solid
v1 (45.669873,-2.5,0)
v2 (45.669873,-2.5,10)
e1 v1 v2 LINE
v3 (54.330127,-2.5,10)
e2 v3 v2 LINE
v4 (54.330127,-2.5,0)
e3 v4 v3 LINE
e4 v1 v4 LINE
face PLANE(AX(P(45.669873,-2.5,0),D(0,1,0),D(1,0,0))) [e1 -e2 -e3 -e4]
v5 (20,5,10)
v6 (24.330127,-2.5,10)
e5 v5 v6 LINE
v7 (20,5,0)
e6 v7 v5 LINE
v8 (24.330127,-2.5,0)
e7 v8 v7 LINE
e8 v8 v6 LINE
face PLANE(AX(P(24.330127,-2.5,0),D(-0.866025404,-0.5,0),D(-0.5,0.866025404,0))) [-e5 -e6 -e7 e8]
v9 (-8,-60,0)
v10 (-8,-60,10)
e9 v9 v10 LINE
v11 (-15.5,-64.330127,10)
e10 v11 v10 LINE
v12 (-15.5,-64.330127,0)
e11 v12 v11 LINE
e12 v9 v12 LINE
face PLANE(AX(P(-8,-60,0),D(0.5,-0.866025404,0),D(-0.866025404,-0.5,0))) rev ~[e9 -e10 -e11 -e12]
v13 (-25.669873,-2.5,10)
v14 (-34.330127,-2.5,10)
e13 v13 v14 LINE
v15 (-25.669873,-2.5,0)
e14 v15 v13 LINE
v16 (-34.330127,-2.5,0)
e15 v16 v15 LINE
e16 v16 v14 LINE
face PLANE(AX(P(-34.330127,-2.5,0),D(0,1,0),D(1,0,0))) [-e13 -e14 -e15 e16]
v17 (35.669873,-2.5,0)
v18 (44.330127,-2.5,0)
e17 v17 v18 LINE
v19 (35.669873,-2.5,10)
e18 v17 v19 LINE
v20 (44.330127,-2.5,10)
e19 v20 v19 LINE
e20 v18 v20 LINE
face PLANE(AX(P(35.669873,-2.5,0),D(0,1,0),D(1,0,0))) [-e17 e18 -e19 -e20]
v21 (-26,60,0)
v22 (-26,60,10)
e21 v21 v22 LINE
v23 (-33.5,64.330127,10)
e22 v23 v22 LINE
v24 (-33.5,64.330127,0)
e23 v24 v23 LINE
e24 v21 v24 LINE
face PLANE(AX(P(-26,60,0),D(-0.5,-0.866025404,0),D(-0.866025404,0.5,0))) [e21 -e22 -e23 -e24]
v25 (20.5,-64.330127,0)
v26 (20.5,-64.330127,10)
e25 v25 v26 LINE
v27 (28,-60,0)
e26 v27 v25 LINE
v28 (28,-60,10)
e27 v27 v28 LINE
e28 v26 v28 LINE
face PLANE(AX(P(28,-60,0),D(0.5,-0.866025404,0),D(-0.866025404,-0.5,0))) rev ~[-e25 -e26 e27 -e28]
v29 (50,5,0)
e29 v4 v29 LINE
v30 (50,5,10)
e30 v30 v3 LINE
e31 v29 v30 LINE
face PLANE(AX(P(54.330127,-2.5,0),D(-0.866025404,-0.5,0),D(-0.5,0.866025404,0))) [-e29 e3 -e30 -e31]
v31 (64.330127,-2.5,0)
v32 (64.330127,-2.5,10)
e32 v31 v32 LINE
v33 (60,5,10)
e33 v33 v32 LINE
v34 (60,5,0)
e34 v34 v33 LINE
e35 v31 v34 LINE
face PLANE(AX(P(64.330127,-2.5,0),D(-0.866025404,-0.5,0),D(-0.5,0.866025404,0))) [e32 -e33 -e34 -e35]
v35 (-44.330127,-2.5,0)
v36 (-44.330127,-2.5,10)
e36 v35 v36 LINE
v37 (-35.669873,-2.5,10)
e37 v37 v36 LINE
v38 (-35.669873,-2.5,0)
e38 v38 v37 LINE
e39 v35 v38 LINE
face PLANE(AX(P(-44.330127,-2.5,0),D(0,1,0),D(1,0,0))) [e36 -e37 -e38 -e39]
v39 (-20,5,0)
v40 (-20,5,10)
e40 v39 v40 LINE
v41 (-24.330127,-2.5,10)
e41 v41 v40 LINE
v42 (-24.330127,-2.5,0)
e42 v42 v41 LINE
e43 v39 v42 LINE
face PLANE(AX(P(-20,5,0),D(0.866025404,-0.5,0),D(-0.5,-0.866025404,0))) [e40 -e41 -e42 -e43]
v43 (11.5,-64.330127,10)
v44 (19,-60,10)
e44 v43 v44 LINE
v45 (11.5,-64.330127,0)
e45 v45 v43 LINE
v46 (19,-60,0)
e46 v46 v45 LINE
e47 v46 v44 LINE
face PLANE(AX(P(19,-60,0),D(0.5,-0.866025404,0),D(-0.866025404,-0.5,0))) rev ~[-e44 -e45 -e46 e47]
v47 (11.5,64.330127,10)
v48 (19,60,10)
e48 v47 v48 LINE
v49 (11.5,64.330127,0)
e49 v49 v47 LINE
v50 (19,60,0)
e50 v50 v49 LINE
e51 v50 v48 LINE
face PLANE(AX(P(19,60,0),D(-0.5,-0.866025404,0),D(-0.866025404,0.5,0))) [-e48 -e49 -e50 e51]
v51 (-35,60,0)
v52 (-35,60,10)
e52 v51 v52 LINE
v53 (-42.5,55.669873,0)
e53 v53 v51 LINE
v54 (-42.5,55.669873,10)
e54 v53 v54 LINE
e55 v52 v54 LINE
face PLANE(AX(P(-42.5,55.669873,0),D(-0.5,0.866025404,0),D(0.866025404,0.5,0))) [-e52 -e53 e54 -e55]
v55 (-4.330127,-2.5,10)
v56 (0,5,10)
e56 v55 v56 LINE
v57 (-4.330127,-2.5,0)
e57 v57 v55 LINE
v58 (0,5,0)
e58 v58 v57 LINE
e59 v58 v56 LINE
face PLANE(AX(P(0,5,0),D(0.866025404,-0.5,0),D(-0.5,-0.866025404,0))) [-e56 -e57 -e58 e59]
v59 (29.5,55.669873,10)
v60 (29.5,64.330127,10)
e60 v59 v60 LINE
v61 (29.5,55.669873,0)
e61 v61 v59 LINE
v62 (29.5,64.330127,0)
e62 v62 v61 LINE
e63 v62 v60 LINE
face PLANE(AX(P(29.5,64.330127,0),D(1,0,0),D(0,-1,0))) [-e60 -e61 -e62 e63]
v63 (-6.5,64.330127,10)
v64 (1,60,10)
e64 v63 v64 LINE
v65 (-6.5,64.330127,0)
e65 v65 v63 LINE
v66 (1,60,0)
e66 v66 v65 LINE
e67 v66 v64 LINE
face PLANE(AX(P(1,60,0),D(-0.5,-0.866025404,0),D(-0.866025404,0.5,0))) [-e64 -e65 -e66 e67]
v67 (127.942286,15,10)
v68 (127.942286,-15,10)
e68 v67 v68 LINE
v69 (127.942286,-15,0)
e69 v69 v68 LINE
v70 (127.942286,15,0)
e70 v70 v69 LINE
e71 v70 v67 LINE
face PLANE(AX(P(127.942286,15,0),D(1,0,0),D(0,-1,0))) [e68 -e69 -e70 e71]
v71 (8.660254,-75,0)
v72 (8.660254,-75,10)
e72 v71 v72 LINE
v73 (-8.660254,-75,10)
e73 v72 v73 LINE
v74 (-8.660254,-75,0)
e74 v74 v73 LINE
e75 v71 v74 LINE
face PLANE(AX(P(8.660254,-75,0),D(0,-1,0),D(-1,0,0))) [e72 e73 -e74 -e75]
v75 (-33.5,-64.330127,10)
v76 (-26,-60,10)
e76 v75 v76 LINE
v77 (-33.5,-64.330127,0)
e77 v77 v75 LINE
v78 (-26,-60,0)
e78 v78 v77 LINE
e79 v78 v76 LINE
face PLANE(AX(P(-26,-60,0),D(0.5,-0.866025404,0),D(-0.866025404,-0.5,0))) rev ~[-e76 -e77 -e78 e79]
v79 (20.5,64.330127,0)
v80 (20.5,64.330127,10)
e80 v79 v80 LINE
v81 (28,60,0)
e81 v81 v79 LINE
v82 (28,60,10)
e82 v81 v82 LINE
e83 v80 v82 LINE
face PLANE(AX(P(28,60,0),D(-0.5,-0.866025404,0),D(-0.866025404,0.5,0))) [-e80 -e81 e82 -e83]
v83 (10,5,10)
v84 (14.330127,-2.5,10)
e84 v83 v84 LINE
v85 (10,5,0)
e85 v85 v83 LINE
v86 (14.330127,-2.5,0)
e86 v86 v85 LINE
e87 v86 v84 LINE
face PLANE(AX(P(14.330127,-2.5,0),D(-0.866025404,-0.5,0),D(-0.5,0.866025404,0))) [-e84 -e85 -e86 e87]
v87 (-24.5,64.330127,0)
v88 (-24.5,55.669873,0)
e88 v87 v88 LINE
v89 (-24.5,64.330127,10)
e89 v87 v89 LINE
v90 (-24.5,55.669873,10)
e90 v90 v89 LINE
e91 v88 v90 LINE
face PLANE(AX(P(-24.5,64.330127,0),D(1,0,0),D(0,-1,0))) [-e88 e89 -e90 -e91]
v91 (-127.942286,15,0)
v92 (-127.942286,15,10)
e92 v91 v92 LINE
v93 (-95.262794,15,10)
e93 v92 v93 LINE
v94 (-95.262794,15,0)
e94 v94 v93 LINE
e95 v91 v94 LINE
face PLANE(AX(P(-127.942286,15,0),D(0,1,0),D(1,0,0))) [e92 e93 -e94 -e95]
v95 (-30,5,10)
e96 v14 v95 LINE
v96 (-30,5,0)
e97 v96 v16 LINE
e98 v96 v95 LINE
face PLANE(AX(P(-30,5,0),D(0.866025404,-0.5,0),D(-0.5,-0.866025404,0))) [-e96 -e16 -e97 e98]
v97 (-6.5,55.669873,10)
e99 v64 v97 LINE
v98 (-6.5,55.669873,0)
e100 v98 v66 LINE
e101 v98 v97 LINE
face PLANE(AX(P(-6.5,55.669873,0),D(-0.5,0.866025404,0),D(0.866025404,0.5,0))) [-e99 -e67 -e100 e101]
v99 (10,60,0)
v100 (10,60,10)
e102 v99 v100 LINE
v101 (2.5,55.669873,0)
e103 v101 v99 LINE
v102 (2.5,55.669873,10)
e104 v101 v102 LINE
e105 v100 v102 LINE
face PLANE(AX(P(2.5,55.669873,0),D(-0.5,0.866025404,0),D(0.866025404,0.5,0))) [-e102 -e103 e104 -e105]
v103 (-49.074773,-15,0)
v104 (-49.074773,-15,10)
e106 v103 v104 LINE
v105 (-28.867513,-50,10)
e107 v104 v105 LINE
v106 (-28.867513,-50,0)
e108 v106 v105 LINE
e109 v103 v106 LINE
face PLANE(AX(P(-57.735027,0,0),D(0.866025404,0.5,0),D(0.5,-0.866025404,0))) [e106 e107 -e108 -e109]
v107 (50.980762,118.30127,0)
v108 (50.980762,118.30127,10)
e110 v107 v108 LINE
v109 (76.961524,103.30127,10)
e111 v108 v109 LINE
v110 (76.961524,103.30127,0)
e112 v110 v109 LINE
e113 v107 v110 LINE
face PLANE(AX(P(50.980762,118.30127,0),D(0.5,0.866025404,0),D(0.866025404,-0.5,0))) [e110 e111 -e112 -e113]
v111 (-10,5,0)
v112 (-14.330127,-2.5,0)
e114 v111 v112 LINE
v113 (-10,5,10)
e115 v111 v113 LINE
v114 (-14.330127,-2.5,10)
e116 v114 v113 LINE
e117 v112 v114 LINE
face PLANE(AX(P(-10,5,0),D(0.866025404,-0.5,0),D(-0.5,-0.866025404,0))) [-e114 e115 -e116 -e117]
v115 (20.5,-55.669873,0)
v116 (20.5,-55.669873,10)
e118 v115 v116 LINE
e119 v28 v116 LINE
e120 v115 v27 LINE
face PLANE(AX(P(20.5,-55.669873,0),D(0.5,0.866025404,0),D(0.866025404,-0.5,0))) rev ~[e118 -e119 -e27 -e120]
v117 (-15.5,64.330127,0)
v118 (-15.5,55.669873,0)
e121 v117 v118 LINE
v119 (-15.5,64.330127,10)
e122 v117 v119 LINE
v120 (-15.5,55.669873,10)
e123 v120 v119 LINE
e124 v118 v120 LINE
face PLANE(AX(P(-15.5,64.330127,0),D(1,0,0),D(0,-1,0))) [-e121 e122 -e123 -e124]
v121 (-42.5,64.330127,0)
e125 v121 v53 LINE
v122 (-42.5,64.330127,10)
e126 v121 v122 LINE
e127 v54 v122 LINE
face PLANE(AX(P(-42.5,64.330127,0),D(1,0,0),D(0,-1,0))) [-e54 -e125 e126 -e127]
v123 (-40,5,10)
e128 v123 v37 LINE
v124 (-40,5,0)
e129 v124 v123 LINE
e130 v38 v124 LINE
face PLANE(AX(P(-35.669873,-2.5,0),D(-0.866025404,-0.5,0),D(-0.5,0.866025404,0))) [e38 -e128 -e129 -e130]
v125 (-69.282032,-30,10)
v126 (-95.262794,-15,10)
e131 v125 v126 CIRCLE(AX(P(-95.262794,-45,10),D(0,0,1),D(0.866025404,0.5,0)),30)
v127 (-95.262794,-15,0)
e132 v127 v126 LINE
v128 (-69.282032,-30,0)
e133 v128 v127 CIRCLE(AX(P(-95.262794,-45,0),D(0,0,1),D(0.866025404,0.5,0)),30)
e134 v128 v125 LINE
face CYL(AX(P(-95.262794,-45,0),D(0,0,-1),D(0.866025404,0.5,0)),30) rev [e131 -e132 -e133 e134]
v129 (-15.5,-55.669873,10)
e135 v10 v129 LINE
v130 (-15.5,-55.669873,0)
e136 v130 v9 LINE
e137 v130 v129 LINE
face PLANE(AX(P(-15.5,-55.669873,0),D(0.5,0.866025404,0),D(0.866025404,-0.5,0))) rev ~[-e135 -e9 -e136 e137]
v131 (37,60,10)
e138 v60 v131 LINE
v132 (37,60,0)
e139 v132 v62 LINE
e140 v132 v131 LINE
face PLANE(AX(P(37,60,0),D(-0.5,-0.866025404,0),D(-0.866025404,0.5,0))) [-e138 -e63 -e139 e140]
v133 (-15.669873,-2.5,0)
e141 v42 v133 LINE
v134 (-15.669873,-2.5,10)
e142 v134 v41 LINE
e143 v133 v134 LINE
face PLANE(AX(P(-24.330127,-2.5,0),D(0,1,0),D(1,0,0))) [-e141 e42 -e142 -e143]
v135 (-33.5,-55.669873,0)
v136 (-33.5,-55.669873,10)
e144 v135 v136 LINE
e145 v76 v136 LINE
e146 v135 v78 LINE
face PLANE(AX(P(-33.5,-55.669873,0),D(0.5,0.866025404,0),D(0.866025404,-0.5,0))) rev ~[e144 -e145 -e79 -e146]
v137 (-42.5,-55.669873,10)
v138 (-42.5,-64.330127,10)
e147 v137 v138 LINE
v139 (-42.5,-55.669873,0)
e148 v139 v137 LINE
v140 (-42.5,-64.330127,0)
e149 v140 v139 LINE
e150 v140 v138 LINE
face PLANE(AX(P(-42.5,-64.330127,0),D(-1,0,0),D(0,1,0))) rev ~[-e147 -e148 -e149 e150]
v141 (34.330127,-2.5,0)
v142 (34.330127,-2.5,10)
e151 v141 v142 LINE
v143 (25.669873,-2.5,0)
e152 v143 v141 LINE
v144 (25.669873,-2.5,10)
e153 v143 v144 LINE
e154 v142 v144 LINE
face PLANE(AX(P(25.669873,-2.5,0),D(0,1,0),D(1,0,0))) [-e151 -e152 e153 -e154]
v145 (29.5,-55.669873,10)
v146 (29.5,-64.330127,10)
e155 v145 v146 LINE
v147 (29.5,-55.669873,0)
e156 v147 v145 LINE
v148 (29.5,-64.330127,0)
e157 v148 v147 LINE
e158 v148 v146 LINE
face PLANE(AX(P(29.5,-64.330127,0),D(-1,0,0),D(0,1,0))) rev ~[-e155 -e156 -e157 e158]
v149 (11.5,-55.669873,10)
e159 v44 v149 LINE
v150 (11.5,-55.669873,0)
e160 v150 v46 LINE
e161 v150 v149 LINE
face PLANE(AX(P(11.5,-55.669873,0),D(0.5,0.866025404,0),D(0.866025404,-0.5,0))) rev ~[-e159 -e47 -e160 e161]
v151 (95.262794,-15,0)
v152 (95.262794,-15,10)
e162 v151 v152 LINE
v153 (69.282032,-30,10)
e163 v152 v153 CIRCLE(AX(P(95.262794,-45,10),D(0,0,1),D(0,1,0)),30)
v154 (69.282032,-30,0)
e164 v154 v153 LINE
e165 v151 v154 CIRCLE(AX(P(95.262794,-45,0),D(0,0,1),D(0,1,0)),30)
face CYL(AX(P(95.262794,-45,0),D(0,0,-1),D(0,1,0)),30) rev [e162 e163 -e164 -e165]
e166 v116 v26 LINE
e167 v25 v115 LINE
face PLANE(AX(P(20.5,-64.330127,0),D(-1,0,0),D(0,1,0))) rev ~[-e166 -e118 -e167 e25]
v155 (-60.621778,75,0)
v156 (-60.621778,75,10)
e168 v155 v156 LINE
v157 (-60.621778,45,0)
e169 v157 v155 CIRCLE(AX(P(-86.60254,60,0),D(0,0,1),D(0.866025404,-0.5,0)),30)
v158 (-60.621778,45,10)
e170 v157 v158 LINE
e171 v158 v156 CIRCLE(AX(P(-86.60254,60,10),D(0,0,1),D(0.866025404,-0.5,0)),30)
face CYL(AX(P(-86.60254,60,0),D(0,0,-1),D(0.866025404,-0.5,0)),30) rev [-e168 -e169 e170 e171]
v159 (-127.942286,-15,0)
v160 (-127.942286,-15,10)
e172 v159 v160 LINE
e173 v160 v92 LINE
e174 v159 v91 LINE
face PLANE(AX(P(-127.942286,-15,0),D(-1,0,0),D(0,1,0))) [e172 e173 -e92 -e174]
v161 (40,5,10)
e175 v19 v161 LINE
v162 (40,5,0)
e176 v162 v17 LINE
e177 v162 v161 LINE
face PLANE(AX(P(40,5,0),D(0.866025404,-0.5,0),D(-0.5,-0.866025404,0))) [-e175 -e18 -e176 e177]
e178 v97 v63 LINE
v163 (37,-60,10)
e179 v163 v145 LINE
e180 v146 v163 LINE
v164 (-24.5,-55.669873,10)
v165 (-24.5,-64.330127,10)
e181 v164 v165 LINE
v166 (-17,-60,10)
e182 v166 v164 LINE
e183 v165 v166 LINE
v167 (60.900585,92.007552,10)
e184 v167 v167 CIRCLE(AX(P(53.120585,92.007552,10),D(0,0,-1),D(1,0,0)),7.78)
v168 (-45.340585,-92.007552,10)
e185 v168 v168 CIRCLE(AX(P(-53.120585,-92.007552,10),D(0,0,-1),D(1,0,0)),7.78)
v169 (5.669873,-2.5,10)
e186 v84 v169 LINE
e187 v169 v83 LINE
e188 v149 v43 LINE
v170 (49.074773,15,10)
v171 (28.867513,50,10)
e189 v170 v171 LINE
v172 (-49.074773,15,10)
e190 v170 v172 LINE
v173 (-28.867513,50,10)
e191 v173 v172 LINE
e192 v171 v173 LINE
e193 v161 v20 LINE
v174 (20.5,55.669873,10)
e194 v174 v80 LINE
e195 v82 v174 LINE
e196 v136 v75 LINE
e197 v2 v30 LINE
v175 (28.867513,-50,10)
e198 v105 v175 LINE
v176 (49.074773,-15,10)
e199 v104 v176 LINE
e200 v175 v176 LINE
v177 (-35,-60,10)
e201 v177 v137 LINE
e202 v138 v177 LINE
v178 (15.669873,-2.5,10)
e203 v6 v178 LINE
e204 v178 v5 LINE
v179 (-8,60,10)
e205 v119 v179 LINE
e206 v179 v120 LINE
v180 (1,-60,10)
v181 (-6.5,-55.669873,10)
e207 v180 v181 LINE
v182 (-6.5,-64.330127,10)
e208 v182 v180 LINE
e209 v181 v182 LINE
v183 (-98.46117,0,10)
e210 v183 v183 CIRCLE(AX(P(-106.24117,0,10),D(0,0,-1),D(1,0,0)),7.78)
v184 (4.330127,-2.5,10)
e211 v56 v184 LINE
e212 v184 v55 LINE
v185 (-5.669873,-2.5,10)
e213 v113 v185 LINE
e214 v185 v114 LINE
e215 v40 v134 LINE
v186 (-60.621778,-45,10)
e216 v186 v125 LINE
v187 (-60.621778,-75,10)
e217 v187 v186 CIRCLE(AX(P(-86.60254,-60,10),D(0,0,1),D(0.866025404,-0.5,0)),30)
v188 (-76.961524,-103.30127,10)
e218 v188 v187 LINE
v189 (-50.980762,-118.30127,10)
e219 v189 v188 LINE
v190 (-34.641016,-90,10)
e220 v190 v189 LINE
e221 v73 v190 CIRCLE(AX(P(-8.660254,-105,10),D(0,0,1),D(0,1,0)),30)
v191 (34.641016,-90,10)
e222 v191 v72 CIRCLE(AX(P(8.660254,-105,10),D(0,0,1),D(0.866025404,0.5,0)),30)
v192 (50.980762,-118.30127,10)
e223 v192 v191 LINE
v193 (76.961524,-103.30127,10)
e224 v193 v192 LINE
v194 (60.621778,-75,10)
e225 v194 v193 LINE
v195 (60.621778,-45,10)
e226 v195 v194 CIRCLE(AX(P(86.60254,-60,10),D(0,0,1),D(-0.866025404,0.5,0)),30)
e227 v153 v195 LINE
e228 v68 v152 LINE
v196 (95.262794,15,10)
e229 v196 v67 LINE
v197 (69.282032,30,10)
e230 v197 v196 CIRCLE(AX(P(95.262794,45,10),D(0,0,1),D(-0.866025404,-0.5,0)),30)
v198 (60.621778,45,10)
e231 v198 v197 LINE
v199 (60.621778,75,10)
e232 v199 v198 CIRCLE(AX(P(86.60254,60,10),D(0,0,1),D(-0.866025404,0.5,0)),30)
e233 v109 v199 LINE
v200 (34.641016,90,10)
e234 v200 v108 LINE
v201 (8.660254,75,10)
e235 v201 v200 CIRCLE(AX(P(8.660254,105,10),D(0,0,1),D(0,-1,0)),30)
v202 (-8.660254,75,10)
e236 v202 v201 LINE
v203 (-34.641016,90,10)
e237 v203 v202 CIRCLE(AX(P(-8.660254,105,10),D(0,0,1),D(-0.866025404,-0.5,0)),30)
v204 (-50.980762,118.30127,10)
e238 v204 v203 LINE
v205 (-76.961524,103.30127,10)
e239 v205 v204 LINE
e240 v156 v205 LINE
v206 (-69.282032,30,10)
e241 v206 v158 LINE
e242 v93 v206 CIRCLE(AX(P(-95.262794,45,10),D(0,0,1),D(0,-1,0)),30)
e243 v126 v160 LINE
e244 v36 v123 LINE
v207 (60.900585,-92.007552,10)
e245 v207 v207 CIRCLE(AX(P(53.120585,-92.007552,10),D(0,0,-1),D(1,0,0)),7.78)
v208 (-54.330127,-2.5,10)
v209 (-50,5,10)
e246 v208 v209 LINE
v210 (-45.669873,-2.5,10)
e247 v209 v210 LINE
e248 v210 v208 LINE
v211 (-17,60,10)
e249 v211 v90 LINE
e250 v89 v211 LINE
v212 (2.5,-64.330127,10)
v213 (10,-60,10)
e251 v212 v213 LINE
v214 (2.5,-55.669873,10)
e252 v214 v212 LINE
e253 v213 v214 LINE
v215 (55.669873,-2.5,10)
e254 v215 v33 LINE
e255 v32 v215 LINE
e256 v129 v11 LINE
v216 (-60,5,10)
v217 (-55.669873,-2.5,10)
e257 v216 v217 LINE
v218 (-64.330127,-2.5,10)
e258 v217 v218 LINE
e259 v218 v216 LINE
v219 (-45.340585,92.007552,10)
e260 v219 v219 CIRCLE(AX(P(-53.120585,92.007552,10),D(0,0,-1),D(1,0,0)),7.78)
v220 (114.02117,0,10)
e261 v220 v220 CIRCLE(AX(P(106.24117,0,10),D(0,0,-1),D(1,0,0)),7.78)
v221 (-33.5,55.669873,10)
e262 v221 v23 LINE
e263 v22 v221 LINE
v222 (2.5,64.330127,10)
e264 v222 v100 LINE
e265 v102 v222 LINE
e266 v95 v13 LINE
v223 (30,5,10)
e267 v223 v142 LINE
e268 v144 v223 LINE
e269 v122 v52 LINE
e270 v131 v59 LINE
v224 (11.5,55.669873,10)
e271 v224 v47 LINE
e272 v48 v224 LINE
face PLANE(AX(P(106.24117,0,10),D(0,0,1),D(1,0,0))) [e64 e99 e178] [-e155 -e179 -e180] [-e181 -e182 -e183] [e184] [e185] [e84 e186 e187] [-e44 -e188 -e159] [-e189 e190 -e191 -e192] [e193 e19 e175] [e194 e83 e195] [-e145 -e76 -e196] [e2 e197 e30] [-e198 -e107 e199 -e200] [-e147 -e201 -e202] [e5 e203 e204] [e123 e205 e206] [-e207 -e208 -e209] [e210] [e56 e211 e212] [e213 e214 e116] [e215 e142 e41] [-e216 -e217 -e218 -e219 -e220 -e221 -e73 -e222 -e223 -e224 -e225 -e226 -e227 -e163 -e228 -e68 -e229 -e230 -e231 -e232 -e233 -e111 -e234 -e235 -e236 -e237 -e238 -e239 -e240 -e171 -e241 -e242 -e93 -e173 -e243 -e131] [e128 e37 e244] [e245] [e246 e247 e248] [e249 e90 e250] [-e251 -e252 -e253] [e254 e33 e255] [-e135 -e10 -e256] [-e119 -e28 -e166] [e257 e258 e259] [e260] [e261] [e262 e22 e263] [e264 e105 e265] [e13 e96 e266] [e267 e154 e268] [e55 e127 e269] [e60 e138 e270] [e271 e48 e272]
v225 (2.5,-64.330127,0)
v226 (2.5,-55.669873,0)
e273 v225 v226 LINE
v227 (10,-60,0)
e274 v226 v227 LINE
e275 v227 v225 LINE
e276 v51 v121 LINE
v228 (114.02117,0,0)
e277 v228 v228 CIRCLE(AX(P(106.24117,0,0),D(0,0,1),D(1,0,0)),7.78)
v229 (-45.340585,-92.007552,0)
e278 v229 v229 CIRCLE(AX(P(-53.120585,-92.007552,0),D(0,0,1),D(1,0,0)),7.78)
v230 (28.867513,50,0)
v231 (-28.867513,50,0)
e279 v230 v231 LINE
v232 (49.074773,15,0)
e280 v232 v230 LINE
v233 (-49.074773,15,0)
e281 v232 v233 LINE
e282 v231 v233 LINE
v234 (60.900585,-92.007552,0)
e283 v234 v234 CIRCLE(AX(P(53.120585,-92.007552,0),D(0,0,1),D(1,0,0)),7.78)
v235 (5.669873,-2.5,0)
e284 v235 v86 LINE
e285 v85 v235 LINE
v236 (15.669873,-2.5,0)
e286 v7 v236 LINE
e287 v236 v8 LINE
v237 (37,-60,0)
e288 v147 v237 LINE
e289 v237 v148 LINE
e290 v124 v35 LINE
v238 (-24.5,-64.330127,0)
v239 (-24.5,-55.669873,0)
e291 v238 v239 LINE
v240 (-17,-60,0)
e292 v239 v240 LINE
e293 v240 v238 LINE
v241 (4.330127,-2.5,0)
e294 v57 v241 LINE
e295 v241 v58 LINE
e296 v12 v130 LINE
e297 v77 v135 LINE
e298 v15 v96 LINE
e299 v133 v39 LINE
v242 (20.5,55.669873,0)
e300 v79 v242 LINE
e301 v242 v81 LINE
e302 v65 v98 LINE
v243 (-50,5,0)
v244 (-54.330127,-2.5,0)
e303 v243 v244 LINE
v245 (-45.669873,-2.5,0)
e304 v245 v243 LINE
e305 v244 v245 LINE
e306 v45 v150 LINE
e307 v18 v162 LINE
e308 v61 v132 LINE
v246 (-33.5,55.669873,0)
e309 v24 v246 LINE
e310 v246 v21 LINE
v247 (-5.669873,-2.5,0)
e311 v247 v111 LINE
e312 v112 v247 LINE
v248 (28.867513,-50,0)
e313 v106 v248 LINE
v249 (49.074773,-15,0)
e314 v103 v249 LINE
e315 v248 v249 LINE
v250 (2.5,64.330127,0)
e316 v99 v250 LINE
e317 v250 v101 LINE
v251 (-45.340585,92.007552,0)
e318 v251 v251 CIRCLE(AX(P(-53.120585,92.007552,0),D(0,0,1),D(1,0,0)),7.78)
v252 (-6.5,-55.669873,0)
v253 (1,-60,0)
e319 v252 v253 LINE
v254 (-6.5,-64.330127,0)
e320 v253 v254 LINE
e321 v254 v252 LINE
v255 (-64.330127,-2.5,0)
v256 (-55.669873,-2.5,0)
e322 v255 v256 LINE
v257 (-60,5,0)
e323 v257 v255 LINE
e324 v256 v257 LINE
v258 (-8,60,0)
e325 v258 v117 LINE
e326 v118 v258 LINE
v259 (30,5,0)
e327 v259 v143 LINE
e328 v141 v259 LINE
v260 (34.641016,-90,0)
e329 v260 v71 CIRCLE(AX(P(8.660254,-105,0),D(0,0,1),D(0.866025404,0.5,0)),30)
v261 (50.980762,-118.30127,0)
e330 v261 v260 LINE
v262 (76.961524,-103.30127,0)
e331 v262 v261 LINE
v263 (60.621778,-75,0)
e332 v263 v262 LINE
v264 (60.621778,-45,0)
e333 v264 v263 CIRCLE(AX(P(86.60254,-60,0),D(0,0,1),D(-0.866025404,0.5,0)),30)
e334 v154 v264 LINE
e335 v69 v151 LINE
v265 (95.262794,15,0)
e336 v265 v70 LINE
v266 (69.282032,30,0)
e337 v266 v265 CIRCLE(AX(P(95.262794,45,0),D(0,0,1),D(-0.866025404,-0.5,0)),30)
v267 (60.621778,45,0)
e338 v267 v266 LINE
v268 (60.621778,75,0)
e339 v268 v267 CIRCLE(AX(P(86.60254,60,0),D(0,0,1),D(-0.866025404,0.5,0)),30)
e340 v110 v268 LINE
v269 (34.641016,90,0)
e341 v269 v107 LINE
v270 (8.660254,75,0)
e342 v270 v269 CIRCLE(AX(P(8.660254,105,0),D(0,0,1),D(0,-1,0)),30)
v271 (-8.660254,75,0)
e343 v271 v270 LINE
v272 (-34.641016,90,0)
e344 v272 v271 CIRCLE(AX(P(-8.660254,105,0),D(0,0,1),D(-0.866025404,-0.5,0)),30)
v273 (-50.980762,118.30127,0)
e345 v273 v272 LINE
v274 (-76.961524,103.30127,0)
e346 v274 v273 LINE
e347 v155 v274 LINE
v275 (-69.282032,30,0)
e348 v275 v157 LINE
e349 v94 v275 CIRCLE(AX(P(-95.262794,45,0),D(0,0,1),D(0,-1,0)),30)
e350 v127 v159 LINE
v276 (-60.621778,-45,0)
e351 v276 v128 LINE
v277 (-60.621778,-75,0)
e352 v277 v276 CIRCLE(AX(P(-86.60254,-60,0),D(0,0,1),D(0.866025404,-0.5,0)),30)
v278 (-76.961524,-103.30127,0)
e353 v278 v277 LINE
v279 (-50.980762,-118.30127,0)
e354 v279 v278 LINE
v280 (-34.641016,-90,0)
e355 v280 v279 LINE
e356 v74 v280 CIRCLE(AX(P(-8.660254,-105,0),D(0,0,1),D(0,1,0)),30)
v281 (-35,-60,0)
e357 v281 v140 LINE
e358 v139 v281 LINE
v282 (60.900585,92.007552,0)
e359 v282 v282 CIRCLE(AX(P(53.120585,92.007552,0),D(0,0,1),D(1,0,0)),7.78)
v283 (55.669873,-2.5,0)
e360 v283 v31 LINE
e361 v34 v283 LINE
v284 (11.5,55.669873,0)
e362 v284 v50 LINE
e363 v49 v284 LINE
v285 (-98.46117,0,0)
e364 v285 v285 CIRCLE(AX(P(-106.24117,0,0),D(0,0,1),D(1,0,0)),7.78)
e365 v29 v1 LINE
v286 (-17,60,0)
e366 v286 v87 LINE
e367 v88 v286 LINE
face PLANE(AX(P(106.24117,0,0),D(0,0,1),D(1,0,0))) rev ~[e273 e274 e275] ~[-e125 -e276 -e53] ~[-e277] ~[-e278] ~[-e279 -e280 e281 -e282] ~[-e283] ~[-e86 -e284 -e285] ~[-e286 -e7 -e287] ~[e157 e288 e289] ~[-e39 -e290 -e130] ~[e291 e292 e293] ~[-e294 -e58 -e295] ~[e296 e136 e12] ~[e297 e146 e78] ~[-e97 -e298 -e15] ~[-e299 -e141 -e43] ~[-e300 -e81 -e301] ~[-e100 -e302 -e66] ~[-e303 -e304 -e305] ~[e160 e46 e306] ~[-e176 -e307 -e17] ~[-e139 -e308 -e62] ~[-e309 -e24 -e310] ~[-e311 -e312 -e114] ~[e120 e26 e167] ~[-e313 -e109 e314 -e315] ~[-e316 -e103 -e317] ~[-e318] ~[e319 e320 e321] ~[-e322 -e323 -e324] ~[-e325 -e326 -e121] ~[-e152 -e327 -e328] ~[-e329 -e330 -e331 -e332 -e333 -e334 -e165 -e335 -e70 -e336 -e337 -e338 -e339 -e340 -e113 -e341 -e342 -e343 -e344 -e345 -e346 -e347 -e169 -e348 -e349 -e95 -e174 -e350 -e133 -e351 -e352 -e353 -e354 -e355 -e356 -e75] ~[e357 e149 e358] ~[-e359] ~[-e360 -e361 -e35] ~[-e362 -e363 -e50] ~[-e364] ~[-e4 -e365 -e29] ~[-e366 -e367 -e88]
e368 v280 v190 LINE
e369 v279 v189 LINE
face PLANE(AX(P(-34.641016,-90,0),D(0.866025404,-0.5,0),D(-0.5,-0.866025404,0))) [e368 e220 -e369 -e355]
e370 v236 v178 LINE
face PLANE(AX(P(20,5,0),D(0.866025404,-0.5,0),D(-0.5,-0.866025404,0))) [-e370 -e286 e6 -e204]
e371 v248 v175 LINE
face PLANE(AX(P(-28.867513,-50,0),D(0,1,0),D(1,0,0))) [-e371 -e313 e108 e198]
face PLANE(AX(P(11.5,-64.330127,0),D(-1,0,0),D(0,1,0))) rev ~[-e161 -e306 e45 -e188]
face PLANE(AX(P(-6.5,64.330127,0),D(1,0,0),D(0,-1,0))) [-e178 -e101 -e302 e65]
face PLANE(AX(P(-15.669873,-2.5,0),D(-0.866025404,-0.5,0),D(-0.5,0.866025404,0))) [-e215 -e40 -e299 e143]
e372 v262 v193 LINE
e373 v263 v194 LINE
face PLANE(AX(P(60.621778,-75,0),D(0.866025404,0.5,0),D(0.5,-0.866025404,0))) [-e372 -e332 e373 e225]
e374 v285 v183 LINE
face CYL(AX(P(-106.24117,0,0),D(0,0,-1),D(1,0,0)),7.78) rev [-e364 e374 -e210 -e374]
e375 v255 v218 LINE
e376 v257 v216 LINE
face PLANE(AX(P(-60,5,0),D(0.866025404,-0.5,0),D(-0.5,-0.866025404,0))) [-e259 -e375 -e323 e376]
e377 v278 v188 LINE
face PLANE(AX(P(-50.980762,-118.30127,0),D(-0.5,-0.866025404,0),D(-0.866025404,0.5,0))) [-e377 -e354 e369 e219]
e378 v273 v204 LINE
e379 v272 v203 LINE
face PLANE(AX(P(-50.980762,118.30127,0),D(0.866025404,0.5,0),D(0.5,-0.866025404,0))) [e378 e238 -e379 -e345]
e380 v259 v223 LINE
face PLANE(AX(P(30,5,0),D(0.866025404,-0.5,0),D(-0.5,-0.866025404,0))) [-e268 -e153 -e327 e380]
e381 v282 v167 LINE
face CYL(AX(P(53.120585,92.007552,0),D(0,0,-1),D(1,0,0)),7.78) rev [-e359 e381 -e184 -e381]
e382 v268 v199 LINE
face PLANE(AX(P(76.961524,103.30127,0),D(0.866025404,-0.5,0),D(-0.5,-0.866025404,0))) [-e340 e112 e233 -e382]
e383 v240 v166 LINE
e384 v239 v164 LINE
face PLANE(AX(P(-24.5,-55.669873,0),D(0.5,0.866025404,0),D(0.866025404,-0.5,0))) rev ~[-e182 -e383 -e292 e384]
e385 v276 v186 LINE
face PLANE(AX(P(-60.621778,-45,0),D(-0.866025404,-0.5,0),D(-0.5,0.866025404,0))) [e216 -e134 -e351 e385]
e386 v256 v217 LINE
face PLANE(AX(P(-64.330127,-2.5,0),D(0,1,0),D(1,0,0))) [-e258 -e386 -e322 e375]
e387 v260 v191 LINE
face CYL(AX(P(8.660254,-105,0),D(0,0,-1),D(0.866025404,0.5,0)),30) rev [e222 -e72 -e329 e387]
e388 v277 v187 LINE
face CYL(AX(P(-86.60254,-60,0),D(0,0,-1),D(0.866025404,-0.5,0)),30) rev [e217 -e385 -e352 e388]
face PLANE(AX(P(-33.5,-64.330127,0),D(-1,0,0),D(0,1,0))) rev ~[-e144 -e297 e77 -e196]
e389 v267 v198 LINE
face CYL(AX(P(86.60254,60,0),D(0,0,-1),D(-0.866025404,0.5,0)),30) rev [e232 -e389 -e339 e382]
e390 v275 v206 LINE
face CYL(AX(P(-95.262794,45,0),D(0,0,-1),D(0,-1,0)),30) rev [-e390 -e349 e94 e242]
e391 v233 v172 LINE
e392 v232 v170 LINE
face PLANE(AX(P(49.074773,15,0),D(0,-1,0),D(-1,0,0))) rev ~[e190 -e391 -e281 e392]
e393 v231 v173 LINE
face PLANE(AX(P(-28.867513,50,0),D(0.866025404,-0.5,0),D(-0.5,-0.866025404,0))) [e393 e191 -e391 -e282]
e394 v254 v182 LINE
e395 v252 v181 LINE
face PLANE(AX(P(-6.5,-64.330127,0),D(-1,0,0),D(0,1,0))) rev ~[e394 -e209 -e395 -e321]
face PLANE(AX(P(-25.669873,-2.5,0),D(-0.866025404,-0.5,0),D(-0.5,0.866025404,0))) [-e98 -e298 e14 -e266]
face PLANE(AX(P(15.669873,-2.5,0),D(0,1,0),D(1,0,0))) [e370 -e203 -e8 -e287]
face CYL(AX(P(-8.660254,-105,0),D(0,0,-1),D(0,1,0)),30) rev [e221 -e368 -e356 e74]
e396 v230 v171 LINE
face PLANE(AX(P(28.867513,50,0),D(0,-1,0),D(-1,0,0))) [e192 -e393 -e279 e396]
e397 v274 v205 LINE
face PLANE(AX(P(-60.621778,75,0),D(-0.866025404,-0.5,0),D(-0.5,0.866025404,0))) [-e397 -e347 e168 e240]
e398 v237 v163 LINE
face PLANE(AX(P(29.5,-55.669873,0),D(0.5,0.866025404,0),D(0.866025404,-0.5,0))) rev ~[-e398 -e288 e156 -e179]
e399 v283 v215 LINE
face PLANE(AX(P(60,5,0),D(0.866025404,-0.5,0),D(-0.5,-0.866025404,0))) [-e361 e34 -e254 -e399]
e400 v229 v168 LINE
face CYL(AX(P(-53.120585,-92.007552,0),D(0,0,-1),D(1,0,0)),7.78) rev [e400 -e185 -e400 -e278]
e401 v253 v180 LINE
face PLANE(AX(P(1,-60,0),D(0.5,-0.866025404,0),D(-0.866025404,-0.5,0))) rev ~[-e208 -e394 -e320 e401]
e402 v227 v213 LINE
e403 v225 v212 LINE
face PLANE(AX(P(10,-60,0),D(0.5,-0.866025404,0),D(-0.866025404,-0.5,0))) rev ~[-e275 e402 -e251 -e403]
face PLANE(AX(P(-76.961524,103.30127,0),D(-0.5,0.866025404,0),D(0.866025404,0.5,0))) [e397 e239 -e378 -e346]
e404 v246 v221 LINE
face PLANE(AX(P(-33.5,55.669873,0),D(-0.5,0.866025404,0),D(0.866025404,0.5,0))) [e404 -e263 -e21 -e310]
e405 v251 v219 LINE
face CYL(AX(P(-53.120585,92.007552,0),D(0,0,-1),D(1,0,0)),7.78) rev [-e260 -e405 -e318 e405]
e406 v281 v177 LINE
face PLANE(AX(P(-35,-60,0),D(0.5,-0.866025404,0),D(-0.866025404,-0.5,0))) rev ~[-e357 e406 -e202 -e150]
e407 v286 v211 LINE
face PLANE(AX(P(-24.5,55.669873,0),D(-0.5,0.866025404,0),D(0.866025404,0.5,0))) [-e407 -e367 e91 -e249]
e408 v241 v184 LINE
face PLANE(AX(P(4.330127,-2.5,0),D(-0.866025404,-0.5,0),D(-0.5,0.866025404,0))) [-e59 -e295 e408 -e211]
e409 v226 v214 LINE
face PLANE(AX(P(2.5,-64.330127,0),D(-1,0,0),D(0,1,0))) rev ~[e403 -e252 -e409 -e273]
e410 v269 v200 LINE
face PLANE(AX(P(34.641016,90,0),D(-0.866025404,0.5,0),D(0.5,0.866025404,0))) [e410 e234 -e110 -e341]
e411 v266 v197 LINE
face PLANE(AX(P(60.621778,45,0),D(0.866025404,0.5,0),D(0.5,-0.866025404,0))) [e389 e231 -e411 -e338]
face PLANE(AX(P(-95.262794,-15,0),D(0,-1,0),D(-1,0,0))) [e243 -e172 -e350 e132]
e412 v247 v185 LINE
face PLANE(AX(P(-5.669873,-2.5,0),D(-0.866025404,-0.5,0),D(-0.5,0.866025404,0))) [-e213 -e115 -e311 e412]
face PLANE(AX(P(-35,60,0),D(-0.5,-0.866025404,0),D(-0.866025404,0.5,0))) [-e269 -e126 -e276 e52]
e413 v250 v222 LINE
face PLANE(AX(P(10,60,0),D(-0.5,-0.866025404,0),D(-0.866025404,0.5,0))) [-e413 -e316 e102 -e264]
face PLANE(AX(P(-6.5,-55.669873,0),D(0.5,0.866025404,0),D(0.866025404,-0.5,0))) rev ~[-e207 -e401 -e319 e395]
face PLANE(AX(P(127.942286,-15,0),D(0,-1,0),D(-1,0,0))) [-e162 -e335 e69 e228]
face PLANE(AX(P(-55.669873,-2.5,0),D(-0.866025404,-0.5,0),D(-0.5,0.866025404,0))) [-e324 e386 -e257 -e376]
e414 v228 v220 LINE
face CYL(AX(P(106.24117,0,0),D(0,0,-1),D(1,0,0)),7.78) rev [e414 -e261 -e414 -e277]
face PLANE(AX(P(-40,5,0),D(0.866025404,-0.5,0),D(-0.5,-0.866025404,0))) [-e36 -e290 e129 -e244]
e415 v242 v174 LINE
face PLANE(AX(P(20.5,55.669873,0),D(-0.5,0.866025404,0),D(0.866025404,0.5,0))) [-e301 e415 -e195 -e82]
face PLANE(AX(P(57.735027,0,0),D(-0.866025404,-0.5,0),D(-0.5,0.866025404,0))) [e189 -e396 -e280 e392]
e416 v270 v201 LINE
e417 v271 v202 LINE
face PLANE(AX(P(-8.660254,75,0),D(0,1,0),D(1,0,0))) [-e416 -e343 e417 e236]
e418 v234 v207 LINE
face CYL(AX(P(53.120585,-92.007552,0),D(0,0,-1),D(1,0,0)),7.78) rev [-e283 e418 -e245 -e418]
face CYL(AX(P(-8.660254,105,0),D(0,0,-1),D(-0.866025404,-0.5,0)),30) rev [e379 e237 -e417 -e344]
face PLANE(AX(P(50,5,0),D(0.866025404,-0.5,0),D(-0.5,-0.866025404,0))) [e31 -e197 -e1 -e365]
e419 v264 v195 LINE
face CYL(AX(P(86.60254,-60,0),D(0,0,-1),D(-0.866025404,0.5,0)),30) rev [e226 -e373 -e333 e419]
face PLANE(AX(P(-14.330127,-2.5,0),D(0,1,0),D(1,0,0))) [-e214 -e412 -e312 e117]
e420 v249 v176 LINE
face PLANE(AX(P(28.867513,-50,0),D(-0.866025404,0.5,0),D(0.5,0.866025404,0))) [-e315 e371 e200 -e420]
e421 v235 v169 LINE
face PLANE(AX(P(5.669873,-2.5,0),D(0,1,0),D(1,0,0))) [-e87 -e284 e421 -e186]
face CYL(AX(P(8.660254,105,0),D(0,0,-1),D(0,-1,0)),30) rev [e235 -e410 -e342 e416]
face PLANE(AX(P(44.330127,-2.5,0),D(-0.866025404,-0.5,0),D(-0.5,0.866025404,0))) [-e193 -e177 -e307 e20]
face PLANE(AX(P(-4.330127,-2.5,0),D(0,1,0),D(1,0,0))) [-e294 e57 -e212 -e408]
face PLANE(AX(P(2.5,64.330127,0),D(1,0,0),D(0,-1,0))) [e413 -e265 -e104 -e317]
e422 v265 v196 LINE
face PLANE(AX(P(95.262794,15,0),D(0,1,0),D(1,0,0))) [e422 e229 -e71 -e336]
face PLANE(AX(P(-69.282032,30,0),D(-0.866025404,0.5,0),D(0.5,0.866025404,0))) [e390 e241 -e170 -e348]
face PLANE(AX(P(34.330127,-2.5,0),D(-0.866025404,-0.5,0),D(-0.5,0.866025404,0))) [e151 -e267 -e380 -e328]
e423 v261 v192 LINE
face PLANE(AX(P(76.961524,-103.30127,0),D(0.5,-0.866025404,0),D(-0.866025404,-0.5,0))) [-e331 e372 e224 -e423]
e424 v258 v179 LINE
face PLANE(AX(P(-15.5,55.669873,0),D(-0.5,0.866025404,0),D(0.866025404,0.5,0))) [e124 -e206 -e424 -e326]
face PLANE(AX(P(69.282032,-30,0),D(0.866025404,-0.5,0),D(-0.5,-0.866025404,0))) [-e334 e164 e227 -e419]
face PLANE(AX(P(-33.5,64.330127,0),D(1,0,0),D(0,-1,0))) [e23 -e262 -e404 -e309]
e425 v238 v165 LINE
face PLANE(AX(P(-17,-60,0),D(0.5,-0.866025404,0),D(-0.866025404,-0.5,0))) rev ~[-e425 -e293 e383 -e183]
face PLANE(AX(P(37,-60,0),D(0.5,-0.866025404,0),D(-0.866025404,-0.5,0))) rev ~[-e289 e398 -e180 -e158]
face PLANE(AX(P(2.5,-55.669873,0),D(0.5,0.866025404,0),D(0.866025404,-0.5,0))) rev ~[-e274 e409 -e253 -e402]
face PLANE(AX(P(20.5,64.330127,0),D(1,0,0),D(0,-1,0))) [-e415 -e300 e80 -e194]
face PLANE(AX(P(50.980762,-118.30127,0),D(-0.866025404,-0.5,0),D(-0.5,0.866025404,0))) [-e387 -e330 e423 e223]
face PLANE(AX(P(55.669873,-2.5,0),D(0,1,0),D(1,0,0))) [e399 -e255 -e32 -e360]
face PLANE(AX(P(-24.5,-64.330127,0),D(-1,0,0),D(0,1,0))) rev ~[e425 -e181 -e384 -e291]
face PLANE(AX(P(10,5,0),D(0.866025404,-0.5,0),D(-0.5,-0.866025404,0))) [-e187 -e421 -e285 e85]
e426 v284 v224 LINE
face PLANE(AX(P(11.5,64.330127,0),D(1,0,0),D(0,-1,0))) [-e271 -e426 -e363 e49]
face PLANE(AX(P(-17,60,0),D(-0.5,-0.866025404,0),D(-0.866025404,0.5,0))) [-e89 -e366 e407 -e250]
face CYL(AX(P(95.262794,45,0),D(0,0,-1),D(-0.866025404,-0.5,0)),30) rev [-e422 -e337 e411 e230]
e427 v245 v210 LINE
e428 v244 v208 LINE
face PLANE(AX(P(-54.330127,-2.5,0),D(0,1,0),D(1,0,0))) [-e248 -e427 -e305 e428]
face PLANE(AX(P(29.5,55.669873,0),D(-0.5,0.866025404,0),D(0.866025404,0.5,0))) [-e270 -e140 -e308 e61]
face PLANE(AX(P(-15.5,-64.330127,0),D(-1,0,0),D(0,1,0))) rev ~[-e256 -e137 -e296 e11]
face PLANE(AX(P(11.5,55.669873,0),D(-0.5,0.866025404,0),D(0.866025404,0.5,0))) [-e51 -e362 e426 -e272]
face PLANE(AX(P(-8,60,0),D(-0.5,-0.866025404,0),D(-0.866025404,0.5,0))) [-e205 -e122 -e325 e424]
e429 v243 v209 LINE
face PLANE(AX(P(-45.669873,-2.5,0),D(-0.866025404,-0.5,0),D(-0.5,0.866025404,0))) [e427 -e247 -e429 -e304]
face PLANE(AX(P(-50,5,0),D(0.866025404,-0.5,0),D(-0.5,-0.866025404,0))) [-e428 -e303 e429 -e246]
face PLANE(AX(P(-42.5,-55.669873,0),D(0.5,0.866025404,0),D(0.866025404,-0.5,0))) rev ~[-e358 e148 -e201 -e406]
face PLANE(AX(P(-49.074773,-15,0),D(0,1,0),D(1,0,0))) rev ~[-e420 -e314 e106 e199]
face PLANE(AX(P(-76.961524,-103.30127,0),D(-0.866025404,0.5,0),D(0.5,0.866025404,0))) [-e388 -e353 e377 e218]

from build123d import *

# Parameters (mm, degrees)
BOSS_EXTRUDE2_DEPTH = 10
SKETCH2_R           = 8
CUT_EXTRUDE1_DEPTH  = 17
CUT_EXTRUDE2_DEPTH  = 20
SKETCH4_R           = 8
SKETCH4_R_2         = 2.8
BOSS_EXTRUDE3_DEPTH = 10
SKETCH5_R           = 7.78
CUT_EXTRUDE3_DEPTH  = 19


with BuildPart() as part:
    # Sketch1 → Boss-Extrude2 (new body)
    # profile 1 of 2: a face of its own
    with BuildSketch(Plane.XY):
        with BuildLine():
            ThreePointArc((-60.621778265, 45), (-56.602540378, 60), (-60.621778265, 75))
            Line((-60.621778265, 75), (-76.961524227, 103.301270189))
            Line((-76.961524227, 103.301270189), (-50.980762114, 118.301270189))
            Line((-50.980762114, 118.301270189), (-34.641016151, 90))
            ThreePointArc((-34.641016151, 90), (-23.660254038, 79.019237886), (-8.660254038, 75))
            Line((-8.660254038, 75), (8.660254038, 75))
            ThreePointArc((8.660254038, 75), (23.660254038, 79.019237886), (34.641016151, 90))
            Line((34.641016151, 90), (50.980762114, 118.301270189))
            Line((50.980762114, 118.301270189), (76.961524227, 103.301270189))
            Line((76.961524227, 103.301270189), (60.621778265, 75))
            ThreePointArc((60.621778265, 75), (56.602540378, 60), (60.621778265, 45))
            Line((60.621778265, 45), (69.282032303, 30))
            ThreePointArc((69.282032303, 30), (80.262794416, 19.019237886), (95.262794416, 15))
            Line((95.262794416, 15), (127.942286341, 15))
            Line((127.942286341, 15), (127.942286341, -15))
            Line((127.942286341, -15), (95.262794416, -15))
            ThreePointArc((95.262794416, -15), (80.262794416, -19.019237886), (69.282032303, -30))
            Line((69.282032303, -30), (60.621778265, -45))
            ThreePointArc((60.621778265, -45), (56.602540378, -60), (60.621778265, -75))
            Line((60.621778265, -75), (76.961524227, -103.301270189))
            Line((76.961524227, -103.301270189), (50.980762114, -118.301270189))
            Line((50.980762114, -118.301270189), (34.641016151, -90))
            ThreePointArc((34.641016151, -90), (23.660254038, -79.019237886), (8.660254038, -75))
            Line((8.660254038, -75), (-8.660254038, -75))
            ThreePointArc((-8.660254038, -75), (-23.660254038, -79.019237886), (-34.641016151, -90))
            Line((-34.641016151, -90), (-50.980762114, -118.301270189))
            Line((-50.980762114, -118.301270189), (-76.961524227, -103.301270189))
            Line((-76.961524227, -103.301270189), (-60.621778265, -75))
            ThreePointArc((-60.621778265, -75), (-56.602540378, -60), (-60.621778265, -45))
            Line((-60.621778265, -45), (-69.282032303, -30))
            ThreePointArc((-69.282032303, -30), (-80.262794416, -19.019237886), (-95.262794416, -15))
            Line((-95.262794416, -15), (-127.942286341, -15))
            Line((-127.942286341, -15), (-127.942286341, 15))
            Line((-127.942286341, 15), (-95.262794416, 15))
            ThreePointArc((-95.262794416, 15), (-80.262794416, 19.019237886), (-69.282032303, 30))
            Line((-69.282032303, 30), (-60.621778265, 45))
        make_face()
        Polygon((28.867513459, -50), (57.735026919, 0), (28.867513459, 50), (-28.867513459, 50), (-57.735026919, 0), (-28.867513459, -50), align=None, mode=Mode.SUBTRACT)
    # profile 2 of 2: a face of its own
    with BuildSketch(Plane.XY):
        Polygon((49.074772881, 15), (-49.074772881, 15), (-57.735026919, 0), (-49.074772881, -15), (49.074772881, -15), (57.735026919, 0), align=None)
    extrude(amount=BOSS_EXTRUDE2_DEPTH)

    # Sketch2 → Cut-Extrude1 (cut)
    with BuildSketch(Plane.XY):
        with Locations((106.241169623, 0)):
            Circle(SKETCH2_R)
        with Locations((53.120584811, -92.007551821)):
            Circle(SKETCH2_R)
        with Locations((-53.120584811, -92.007551821)):
            Circle(SKETCH2_R)
        with Locations((-106.241169623, 0)):
            Circle(SKETCH2_R)
        with Locations((-53.120584811, 92.007551821)):
            Circle(SKETCH2_R)
        with Locations((53.120584811, 92.007551821)):
            Circle(SKETCH2_R)
    extrude(amount=CUT_EXTRUDE1_DEPTH, mode=Mode.SUBTRACT)

    # Sketch3 → Cut-Extrude2 (cut)
    with BuildSketch(Plane.XY):
        Polygon((-45.669872981, -2.5), (-50, 5), (-54.330127019, -2.5), align=None)
        Polygon((-55.669872981, -2.5), (-60, 5), (-64.330127019, -2.5), align=None)
        Polygon((-35.669872981, -2.5), (-40, 5), (-44.330127019, -2.5), align=None)
        Polygon((-25.669872981, -2.5), (-30, 5), (-34.330127019, -2.5), align=None)
        Polygon((-15.669872981, -2.5), (-20, 5), (-24.330127019, -2.5), align=None)
        Polygon((-5.669872981, -2.5), (-10, 5), (-14.330127019, -2.5), align=None)
        Polygon((4.330127019, -2.5), (0, 5), (-4.330127019, -2.5), align=None)
        Polygon((14.330127019, -2.5), (10, 5), (5.669872981, -2.5), align=None)
        Polygon((24.330127019, -2.5), (20, 5), (15.669872981, -2.5), align=None)
        Polygon((34.330127019, -2.5), (30, 5), (25.669872981, -2.5), align=None)
        Polygon((44.330127019, -2.5), (40, 5), (35.669872981, -2.5), align=None)
        Polygon((54.330127019, -2.5), (50, 5), (45.669872981, -2.5), align=None)
        Polygon((64.330127019, -2.5), (60, 5), (55.669872981, -2.5), align=None)
        Polygon((-26, 60), (-33.5, 64.330127019), (-33.5, 55.669872981), align=None)
        Polygon((-35, 60), (-42.5, 64.330127019), (-42.5, 55.669872981), align=None)
        Polygon((-17, 60), (-24.5, 64.330127019), (-24.5, 55.669872981), align=None)
        Polygon((-8, 60), (-15.5, 64.330127019), (-15.5, 55.669872981), align=None)
        Polygon((1, 60), (-6.5, 64.330127019), (-6.5, 55.669872981), align=None)
        Polygon((10, 60), (2.5, 64.330127019), (2.5, 55.669872981), align=None)
        Polygon((19, 60), (11.5, 64.330127019), (11.5, 55.669872981), align=None)
        Polygon((28, 60), (20.5, 64.330127019), (20.5, 55.669872981), align=None)
        Polygon((37, 60), (29.5, 64.330127019), (29.5, 55.669872981), align=None)
        Polygon((29.5, -55.669872981), (37, -60), (29.5, -64.330127019), align=None)
        Polygon((20.5, -55.669872981), (28, -60), (20.5, -64.330127019), align=None)
        Polygon((11.5, -55.669872981), (19, -60), (11.5, -64.330127019), align=None)
        Polygon((2.5, -55.669872981), (10, -60), (2.5, -64.330127019), align=None)
        Polygon((-6.5, -55.669872981), (1, -60), (-6.5, -64.330127019), align=None)
        Polygon((-15.5, -55.669872981), (-8, -60), (-15.5, -64.330127019), align=None)
        Polygon((-24.5, -55.669872981), (-17, -60), (-24.5, -64.330127019), align=None)
        Polygon((-33.5, -55.669872981), (-26, -60), (-33.5, -64.330127019), align=None)
        Polygon((-42.5, -55.669872981), (-35, -60), (-42.5, -64.330127019), align=None)
    extrude(amount=CUT_EXTRUDE2_DEPTH, mode=Mode.SUBTRACT)

    # Sketch4 → Boss-Extrude3 (add)
    # profile 1 of 6: a face of its own
    with BuildSketch(Plane.XY):
        with Locations((106.241169623, 0)):
            Circle(SKETCH4_R)
        with Locations((106.241169623, 0)):
            Circle(SKETCH4_R_2, mode=Mode.SUBTRACT)
    # profile 2 of 6: a face of its own
    with BuildSketch(Plane.XY):
        with Locations((53.120584811, -92.007551821)):
            Circle(SKETCH4_R)
        with Locations((53.120584811, -92.007551821)):
            Circle(SKETCH4_R_2, mode=Mode.SUBTRACT)
    # profile 3 of 6: a face of its own
    with BuildSketch(Plane.XY):
        with Locations((-53.120584811, -92.007551821)):
            Circle(SKETCH4_R)
        with Locations((-53.120584811, -92.007551821)):
            Circle(SKETCH4_R_2, mode=Mode.SUBTRACT)
    # profile 4 of 6: a face of its own
    with BuildSketch(Plane.XY):
        with Locations((-106.241169623, 0)):
            Circle(SKETCH4_R)
        with Locations((-106.241169623, 0)):
            Circle(SKETCH4_R_2, mode=Mode.SUBTRACT)
    # profile 5 of 6: a face of its own
    with BuildSketch(Plane.XY):
        with Locations((-53.120584811, 92.007551821)):
            Circle(SKETCH4_R)
        with Locations((-53.120584811, 92.007551821)):
            Circle(SKETCH4_R_2, mode=Mode.SUBTRACT)
    # profile 6 of 6: a face of its own
    with BuildSketch(Plane.XY):
        with Locations((53.120584811, 92.007551821)):
            Circle(SKETCH4_R)
        with Locations((53.120584811, 92.007551821)):
            Circle(SKETCH4_R_2, mode=Mode.SUBTRACT)
    extrude(amount=BOSS_EXTRUDE3_DEPTH)

    # Sketch5 → Cut-Extrude3 (cut)
    with BuildSketch(Plane.XY):
        with Locations((106.241169623, 0)):
            Circle(SKETCH5_R)
        with Locations((53.120584811, -92.007551821)):
            Circle(SKETCH5_R)
        with Locations((-53.120584811, -92.007551821)):
            Circle(SKETCH5_R)
        with Locations((-106.241169623, 0)):
            Circle(SKETCH5_R)
        with Locations((-53.120584811, 92.007551821)):
            Circle(SKETCH5_R)
        with Locations((53.120584811, 92.007551821)):
            Circle(SKETCH5_R)
    extrude(amount=CUT_EXTRUDE3_DEPTH, mode=Mode.SUBTRACT)


solid = part.part
